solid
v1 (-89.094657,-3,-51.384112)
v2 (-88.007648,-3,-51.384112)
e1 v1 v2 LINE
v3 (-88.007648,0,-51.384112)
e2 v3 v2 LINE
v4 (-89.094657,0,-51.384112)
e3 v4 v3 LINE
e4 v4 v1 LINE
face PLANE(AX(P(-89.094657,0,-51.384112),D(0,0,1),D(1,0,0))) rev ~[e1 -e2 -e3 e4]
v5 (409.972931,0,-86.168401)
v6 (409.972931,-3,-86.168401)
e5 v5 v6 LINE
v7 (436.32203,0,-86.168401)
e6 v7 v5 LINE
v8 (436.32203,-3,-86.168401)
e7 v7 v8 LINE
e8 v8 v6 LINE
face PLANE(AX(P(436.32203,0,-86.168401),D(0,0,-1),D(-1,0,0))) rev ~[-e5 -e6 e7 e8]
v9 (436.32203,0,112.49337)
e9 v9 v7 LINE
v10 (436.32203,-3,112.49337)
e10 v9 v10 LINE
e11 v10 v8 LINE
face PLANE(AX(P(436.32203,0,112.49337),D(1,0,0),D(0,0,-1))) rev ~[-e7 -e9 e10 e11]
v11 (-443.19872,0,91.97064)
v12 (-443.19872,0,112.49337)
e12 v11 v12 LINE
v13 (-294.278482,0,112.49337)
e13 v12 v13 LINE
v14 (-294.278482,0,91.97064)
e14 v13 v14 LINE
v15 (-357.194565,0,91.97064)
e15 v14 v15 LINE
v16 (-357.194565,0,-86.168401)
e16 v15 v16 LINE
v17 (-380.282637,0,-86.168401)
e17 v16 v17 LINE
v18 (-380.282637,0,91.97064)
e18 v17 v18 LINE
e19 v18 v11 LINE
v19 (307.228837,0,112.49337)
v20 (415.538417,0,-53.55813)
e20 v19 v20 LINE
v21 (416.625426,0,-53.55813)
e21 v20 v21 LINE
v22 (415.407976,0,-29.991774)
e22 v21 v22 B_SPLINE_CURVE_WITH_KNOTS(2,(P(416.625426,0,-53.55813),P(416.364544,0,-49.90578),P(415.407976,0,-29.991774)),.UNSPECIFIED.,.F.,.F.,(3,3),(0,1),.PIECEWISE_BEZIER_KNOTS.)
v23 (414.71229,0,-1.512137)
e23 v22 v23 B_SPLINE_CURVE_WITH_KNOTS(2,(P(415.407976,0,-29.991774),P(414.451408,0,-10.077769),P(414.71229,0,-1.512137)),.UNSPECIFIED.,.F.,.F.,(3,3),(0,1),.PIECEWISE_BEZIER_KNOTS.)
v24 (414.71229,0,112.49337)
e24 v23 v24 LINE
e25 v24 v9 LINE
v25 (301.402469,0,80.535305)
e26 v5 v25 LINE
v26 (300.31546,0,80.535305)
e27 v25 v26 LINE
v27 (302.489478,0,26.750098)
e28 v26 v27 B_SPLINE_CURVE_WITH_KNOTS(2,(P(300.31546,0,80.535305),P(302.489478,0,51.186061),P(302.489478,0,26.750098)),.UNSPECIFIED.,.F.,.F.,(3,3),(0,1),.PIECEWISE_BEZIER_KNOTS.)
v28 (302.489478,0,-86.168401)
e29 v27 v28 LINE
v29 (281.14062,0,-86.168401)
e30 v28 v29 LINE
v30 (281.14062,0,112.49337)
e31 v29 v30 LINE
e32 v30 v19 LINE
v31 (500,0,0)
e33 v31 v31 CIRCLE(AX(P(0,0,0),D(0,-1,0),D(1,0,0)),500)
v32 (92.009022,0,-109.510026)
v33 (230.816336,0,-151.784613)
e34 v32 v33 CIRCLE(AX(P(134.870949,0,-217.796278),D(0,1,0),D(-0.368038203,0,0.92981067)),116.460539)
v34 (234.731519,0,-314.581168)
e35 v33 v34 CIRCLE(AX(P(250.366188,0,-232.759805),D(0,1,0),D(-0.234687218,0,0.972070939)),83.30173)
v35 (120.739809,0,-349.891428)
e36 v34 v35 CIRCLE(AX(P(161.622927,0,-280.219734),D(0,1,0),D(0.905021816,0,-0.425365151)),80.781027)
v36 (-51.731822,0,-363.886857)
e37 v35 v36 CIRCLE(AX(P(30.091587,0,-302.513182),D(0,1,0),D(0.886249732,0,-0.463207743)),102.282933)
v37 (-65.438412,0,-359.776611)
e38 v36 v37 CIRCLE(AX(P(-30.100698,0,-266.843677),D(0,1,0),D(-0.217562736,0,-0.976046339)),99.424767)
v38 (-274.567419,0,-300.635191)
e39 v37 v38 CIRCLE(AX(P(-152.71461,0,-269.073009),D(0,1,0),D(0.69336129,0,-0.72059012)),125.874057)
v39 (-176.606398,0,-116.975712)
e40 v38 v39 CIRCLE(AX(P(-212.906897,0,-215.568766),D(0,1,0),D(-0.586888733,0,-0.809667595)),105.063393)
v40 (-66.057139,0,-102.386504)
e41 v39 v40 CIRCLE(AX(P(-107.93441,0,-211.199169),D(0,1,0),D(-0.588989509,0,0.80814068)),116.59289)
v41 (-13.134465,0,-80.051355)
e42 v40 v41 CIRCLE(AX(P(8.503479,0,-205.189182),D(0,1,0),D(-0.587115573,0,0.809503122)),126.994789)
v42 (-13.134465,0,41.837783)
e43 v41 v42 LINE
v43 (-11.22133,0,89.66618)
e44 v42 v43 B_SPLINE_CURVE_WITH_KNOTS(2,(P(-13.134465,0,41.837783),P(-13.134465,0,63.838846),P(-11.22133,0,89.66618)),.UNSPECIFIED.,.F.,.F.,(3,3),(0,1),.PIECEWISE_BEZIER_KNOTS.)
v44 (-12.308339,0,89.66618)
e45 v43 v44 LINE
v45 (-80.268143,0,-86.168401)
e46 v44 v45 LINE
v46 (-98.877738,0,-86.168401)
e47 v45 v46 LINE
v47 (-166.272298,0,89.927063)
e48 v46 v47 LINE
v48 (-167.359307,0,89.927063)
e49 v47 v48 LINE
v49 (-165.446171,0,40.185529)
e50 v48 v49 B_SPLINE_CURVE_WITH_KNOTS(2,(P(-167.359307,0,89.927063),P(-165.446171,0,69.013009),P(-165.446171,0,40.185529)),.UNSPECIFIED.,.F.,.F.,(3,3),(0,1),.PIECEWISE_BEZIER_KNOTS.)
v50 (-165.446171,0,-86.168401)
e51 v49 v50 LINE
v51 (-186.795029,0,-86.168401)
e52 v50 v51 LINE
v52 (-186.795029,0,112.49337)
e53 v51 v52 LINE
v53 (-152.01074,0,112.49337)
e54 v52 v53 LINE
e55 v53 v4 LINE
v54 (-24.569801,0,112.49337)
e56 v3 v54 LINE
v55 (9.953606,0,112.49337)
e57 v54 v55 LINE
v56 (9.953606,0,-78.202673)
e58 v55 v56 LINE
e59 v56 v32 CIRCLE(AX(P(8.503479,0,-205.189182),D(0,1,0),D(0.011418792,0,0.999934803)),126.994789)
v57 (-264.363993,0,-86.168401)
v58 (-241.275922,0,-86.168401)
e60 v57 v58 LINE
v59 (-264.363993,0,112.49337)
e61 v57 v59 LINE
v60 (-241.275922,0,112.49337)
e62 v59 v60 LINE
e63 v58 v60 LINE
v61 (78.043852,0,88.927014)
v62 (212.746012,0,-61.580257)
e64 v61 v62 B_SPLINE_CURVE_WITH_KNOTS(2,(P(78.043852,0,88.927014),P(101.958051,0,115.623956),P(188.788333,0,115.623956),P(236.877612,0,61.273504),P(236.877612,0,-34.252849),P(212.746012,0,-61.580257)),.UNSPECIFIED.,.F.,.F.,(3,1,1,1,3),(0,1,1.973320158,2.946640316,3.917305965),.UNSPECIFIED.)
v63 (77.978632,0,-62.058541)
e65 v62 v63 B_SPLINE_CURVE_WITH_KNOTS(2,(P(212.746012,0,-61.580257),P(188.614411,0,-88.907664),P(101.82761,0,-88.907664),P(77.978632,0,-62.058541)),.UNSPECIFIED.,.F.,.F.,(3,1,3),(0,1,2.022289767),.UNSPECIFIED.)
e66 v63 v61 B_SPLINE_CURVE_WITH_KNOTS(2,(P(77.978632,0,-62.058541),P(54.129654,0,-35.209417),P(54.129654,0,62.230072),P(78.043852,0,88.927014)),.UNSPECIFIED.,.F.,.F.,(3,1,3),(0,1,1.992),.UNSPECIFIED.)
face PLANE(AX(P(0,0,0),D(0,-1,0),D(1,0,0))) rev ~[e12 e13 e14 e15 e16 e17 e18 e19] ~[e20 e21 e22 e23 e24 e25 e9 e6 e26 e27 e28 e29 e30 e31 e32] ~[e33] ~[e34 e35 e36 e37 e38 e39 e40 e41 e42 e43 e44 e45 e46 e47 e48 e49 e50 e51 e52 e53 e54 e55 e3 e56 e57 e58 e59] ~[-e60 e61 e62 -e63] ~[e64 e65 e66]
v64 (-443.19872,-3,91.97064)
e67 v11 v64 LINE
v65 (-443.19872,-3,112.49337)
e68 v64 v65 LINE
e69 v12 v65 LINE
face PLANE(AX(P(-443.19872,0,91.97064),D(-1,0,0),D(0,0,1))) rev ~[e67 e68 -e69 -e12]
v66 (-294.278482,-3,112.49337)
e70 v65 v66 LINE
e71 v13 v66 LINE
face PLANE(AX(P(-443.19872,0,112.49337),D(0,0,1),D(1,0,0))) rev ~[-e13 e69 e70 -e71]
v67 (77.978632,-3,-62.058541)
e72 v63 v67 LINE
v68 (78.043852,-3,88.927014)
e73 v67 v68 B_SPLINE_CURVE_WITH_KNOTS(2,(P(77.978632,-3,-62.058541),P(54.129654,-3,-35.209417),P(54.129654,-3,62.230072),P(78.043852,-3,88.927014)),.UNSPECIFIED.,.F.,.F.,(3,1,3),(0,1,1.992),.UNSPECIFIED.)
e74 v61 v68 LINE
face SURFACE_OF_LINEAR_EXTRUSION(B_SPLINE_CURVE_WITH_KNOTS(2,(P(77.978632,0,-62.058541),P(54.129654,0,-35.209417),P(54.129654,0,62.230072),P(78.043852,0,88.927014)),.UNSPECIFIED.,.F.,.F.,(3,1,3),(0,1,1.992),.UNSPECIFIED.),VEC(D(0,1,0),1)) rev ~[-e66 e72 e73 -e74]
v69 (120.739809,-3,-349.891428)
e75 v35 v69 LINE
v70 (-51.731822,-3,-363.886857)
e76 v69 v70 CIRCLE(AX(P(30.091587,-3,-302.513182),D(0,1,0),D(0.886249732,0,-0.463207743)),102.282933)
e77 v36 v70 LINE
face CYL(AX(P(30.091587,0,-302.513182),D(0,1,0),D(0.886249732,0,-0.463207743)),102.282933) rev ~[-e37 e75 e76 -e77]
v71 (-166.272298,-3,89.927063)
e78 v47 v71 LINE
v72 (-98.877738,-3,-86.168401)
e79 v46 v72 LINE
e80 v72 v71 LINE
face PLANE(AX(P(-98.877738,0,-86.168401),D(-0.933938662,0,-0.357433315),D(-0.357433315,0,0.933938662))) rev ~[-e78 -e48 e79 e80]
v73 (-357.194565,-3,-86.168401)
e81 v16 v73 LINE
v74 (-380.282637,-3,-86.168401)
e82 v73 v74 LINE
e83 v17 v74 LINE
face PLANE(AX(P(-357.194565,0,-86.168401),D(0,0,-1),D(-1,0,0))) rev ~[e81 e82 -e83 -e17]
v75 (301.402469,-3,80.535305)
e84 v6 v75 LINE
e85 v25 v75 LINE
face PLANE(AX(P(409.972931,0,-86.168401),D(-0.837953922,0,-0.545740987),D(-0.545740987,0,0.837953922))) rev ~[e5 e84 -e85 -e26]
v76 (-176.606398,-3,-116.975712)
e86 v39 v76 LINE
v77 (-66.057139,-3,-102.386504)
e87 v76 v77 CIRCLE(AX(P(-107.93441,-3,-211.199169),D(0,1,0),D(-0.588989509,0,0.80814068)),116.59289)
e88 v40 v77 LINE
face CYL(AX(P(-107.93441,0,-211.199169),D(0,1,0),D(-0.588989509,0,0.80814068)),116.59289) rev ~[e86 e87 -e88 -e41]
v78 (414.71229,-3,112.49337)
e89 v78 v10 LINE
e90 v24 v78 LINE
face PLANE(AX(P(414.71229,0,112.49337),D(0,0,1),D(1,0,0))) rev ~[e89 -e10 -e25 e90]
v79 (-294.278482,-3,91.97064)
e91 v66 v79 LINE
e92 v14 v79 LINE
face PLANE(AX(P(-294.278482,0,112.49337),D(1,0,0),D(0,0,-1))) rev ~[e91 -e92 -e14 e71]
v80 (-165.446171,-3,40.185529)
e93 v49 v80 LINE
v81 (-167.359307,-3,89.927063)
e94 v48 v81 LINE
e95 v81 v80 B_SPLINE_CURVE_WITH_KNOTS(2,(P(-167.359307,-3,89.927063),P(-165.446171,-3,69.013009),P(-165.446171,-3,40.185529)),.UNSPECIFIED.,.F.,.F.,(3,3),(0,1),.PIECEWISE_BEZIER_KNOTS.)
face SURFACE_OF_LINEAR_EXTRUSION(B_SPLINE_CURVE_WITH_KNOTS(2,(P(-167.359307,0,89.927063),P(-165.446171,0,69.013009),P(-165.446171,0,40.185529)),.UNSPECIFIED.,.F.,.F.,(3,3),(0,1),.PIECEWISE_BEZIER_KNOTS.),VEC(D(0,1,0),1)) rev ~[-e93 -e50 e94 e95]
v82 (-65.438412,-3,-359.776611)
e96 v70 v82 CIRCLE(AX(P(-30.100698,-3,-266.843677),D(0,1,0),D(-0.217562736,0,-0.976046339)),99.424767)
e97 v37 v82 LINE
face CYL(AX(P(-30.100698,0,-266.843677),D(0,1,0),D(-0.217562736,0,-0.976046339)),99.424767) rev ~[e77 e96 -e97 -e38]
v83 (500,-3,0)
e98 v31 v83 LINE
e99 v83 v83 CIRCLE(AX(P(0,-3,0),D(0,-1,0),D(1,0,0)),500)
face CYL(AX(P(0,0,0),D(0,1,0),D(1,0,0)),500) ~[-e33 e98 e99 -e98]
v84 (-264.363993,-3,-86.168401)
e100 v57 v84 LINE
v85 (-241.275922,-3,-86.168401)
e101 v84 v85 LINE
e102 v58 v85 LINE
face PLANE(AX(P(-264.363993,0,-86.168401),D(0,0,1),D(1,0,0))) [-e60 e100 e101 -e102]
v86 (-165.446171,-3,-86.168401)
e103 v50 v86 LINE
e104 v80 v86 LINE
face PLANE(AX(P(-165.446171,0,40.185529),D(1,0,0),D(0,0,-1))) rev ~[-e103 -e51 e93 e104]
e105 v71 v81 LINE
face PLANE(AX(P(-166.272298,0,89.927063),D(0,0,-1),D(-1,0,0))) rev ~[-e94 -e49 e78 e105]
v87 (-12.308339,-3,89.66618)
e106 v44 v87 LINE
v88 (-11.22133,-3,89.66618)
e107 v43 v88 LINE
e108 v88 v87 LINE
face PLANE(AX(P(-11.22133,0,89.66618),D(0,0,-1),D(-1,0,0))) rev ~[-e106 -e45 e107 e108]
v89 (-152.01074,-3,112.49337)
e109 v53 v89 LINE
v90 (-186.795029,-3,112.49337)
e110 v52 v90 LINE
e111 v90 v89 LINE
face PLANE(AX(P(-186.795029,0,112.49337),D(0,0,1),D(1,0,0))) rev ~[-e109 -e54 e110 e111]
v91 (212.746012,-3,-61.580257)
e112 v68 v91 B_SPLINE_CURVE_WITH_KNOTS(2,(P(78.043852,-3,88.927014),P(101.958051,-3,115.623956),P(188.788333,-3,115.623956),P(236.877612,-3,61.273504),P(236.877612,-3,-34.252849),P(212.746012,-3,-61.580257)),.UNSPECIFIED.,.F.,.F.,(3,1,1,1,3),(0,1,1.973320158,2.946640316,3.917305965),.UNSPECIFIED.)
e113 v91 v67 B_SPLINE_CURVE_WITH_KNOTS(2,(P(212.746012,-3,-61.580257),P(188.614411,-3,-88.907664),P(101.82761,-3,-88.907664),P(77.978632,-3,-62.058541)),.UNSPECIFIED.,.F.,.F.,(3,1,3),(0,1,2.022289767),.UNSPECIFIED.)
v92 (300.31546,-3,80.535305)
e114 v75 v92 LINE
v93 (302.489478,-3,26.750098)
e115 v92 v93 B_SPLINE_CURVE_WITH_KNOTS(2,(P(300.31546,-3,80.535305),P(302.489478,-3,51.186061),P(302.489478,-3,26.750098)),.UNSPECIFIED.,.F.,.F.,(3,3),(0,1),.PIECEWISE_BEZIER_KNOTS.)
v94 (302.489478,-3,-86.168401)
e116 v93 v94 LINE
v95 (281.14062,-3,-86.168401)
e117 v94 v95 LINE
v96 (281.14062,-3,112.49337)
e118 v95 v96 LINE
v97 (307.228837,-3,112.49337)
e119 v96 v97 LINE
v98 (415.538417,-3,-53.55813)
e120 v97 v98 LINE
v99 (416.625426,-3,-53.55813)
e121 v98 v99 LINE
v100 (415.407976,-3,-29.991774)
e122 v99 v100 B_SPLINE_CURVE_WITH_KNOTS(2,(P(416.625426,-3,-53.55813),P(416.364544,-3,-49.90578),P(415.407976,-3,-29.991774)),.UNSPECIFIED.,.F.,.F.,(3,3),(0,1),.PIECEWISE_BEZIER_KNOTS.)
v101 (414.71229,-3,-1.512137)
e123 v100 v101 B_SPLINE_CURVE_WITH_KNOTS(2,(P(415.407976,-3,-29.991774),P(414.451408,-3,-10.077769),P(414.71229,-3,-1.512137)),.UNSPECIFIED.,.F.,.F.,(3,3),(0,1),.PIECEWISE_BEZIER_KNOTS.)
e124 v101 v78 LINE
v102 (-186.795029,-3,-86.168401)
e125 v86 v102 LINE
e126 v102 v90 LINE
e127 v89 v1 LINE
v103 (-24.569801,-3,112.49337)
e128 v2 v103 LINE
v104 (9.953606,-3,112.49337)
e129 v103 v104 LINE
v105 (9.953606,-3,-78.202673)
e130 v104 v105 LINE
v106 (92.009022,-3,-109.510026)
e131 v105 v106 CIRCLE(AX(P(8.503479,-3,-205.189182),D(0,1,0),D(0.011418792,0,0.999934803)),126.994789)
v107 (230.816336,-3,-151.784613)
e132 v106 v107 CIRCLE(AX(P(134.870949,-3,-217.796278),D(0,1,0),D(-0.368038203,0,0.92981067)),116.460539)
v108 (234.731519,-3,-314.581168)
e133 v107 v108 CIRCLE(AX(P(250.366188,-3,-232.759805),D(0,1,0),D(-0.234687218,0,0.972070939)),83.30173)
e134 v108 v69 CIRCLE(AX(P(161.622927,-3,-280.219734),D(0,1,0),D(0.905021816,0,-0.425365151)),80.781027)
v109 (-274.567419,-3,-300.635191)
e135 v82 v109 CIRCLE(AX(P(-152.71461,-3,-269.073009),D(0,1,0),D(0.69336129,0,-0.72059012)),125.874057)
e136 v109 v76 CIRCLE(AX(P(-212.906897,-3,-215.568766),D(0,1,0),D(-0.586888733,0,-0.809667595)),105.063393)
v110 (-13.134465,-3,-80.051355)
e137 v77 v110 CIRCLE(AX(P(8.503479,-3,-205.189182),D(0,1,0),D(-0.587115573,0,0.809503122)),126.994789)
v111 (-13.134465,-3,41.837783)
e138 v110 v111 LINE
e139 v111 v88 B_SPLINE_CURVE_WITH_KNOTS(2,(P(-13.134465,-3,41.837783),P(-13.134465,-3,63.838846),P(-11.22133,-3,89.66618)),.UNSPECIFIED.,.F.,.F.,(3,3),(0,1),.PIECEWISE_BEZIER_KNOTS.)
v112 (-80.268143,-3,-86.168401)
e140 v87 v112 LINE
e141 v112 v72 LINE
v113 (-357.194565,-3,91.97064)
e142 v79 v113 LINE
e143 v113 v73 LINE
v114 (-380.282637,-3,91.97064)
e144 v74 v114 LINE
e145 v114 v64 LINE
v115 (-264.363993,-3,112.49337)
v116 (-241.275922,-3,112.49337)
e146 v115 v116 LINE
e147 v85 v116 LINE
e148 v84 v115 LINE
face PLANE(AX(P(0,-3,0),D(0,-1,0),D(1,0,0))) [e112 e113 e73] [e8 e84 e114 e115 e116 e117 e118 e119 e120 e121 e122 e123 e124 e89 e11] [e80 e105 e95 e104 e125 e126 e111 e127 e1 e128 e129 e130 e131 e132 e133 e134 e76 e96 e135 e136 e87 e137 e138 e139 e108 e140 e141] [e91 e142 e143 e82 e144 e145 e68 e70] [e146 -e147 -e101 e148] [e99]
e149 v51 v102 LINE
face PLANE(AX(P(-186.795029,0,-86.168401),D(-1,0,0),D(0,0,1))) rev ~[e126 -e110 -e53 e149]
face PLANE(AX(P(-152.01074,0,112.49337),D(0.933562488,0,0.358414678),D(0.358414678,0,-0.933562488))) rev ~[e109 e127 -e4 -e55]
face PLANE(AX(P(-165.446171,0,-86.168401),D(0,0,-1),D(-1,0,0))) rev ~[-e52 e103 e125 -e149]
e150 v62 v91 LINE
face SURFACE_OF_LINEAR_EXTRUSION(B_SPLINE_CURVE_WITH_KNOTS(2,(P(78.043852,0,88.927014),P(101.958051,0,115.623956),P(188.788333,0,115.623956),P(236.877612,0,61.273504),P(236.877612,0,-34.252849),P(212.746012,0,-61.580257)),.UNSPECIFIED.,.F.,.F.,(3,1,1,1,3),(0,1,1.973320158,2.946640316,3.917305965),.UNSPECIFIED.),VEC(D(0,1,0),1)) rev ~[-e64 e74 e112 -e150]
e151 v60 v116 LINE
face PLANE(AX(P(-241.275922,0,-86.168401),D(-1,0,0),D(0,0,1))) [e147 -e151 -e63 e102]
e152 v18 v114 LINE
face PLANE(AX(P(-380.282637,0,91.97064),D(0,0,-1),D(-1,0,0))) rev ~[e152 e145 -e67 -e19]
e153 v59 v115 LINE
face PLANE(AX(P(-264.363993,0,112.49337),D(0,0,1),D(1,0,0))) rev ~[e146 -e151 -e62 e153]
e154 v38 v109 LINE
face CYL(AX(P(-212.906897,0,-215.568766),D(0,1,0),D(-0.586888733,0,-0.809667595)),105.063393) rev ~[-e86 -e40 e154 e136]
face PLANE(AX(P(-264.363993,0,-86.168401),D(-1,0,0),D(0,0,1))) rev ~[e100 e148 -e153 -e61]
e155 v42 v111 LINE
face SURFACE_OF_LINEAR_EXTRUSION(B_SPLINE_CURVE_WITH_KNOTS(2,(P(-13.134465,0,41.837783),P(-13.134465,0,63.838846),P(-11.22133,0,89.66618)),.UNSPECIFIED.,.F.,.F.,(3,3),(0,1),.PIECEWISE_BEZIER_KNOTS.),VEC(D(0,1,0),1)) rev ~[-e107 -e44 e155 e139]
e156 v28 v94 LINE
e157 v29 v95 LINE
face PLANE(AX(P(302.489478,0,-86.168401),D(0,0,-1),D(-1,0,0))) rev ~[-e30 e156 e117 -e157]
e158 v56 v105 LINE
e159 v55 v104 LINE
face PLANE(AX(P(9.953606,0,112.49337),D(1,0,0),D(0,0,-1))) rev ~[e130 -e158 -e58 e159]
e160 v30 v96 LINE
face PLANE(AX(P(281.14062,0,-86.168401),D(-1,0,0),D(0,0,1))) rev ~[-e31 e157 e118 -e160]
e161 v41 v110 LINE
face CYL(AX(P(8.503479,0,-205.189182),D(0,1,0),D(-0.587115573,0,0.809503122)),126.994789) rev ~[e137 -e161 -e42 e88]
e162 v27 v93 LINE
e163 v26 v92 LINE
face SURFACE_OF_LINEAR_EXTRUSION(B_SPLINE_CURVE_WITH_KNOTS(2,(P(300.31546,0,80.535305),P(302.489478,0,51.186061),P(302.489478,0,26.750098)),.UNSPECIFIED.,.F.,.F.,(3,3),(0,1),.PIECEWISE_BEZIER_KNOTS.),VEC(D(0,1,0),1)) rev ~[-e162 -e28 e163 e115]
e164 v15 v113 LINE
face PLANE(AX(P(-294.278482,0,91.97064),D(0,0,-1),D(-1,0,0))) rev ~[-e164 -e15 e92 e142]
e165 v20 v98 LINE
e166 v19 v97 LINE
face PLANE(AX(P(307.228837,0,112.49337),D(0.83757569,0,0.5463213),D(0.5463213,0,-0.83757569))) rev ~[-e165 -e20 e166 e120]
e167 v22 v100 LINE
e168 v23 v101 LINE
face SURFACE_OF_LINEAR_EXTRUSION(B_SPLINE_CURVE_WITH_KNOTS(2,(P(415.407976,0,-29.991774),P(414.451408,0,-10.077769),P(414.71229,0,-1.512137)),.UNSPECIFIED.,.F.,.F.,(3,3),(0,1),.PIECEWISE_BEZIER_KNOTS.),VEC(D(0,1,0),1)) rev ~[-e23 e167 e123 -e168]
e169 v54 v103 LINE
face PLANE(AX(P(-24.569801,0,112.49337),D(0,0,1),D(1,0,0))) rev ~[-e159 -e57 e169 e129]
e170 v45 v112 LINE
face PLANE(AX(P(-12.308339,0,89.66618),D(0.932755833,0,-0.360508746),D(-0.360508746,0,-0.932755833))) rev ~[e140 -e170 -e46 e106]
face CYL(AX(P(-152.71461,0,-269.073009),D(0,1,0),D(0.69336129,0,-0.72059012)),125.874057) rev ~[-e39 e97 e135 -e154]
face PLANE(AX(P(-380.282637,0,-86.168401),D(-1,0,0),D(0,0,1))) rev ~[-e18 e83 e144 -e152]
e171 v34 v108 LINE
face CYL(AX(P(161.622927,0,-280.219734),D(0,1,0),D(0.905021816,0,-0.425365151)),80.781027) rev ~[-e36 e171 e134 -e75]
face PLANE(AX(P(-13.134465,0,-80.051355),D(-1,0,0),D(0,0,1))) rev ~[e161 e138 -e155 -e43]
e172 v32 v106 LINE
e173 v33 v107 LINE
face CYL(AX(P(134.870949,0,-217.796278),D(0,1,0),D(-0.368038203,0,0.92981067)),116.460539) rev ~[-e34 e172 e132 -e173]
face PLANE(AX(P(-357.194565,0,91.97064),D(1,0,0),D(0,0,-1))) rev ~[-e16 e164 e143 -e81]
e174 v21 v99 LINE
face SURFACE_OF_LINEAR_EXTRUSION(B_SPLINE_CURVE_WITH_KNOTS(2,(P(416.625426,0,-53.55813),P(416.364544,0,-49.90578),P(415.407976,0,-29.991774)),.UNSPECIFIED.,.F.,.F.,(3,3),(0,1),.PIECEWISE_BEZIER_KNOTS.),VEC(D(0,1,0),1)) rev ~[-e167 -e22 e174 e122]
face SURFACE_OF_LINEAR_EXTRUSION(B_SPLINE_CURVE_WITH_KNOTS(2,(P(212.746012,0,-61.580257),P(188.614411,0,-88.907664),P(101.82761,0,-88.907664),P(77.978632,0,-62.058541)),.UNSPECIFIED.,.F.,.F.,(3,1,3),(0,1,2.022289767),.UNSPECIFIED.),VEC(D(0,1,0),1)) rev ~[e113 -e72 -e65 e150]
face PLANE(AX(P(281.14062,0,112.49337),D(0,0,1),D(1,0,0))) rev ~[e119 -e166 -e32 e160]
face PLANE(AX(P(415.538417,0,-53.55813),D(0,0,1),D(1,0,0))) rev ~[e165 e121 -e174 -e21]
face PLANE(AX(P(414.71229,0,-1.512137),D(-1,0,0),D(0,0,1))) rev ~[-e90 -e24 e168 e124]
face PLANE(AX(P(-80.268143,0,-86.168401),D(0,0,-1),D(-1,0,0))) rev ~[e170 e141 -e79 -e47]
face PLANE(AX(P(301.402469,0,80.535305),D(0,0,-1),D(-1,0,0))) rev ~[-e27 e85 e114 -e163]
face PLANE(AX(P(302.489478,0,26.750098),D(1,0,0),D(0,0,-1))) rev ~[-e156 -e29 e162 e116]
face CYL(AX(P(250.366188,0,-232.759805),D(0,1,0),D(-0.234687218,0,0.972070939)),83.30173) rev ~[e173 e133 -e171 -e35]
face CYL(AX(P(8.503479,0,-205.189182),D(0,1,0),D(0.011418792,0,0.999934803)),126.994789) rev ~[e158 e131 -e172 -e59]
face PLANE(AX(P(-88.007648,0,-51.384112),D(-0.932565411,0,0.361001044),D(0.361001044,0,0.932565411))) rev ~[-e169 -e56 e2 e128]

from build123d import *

# Parameters (mm, degrees)
F0_R     = 500
F0_W     = 23.0880718875
F0_H     = 198.6617711001
F1_DEPTH = 3


with BuildPart() as f1:
    # F0 (on Front) → F1 (new body)
    with BuildSketch(Plane.XZ):
        Circle(F0_R)
        with BuildLine():
            ThreePointArc((-274.567418569, -300.6351906095), (-305.6079419009, -166.1235155196), (-176.6063983823, -116.975711967))
            ThreePointArc((-176.6063983823, -116.975711967), (-123.1889327411, -95.6085057867), (-66.0571388124, -102.3865038656))
            ThreePointArc((-66.0571388124, -102.3865038656), (-40.8752164599, -88.187383642), (-13.1344654752, -80.0513549242))
            Line((-13.1344654752, -80.0513549242), (-13.1344654752, 41.8377829303))
            add(Edge.make_bspline(
                [(-13.1344654752, 41.8377829303), (-13.1344654752, 63.8388457836), (-11.2213295749, 89.6661804375)],
                knots=[0, 0, 0, 1, 1, 1], degree=2))
            Line((-11.2213295749, 89.6661804375), (-12.3083386092, 89.6661804375))
            Line((-12.3083386092, 89.6661804375), (-80.2681434307, -86.1684009433))
            Line((-80.2681434307, -86.1684009433), (-98.8777380971, -86.1684009433))
            Line((-98.8777380971, -86.1684009433), (-166.2722982207, 89.9270626057))
            Line((-166.2722982207, 89.9270626057), (-167.359307255, 89.9270626057))
            add(Edge.make_bspline(
                [(-167.359307255, 89.9270626057), (-165.4461713547, 69.0130087867), (-165.4461713547, 40.1855291983)],
                knots=[0, 0, 0, 1, 1, 1], degree=2))
            Line((-165.4461713547, 40.1855291983), (-165.4461713547, -86.1684009433))
            Line((-165.4461713547, -86.1684009433), (-186.7950287874, -86.1684009433))
            Line((-186.7950287874, -86.1684009433), (-186.7950287874, 112.4933701568))
            Line((-186.7950287874, 112.4933701568), (-152.0107396913, 112.4933701568))
            Line((-152.0107396913, 112.4933701568), (-89.0946567888, -51.3841118472))
            Line((-89.0946567888, -51.3841118472), (-88.0076477545, -51.3841118472))
            Line((-88.0076477545, -51.3841118472), (-24.5698005155, 112.4933701568))
            Line((-24.5698005155, 112.4933701568), (9.9536064123, 112.4933701568))
            Line((9.9536064123, 112.4933701568), (9.9536064123, -78.2026726688))
            ThreePointArc((9.9536064123, -78.2026726688), (53.773823289, -86.5372862236), (92.0090216607, -109.5100264977))
            ThreePointArc((92.0090216607, -109.5100264977), (168.8010036172, -106.3879816048), (230.8163361906, -151.7846134505))
            ThreePointArc((230.8163361906, -151.7846134505), (301.8959936917, -167.3086216291), (333.6679179608, -232.7598047248))
            ThreePointArc((333.6679179608, -232.7598047248), (303.4547141219, -296.9531582441), (234.7315185471, -314.581167554))
            ThreePointArc((234.7315185471, -314.581167554), (185.5253099789, -357.3835232893), (120.7398090278, -349.8914284782))
            ThreePointArc((120.7398090278, -349.8914284782), (38.3642732882, -404.4610167035), (-51.7318220906, -363.886856885))
            ThreePointArc((-51.7318220905, -363.886856885), (-58.6591581618, -362.0786424357), (-65.4384116096, -359.7766113262))
            ThreePointArc((-65.4384116096, -359.7766113262), (-186.9682580881, -390.1967718511), (-274.567418569, -300.6351906095))
        make_face(mode=Mode.SUBTRACT)
        Polygon((-357.1945649969, 91.9706395901), (-357.1945649969, -86.1684009433), (-380.2826368844, -86.1684009433), (-380.2826368844, 91.9706395901), (-443.198719787, 91.9706395901), (-443.198719787, 112.4933701568), (-294.2784820944, 112.4933701568), (-294.2784820944, 91.9706395901), align=None, mode=Mode.SUBTRACT)
        with Locations((-252.819957528, 13.1624846067)):
            Rectangle(F0_W, F0_H, mode=Mode.SUBTRACT)
        with BuildLine():
            add(Edge.make_bspline(
                [(212.8329725653, 88.4487303191), (236.877612403, 61.2735044628), (236.877612403, 13.4451069557)],
                knots=[0, 0, 0, 1, 1, 1], degree=2))
            add(Edge.make_bspline(
                [(236.877612403, 13.4451069557), (236.877612403, -34.2528494674), (212.7460118425, -61.5802565885)],
                knots=[0, 0, 0, 1, 1, 1], degree=2))
            add(Edge.make_bspline(
                [(212.7460118425, -61.5802565885), (188.6144112821, -88.9076637096), (145.6992946098, -88.9076637096)],
                knots=[0, 0, 0, 1, 1, 1], degree=2))
            add(Edge.make_bspline(
                [(145.6992946098, -88.9076637096), (101.8276099874, -88.9076637096), (77.9786317759, -62.0585405636)],
                knots=[0, 0, 0, 1, 1, 1], degree=2))
            add(Edge.make_bspline(
                [(77.9786317759, -62.0585405636), (54.1296535644, -35.2094174175), (54.1296535644, 13.7059891239)],
                knots=[0, 0, 0, 1, 1, 1], degree=2))
            add(Edge.make_bspline(
                [(54.1296535644, 13.7059891239), (54.1296535644, 62.2300724129), (78.0438523179, 88.9270142942)],
                knots=[0, 0, 0, 1, 1, 1], degree=2))
            add(Edge.make_bspline(
                [(78.0438523179, 88.9270142942), (101.9580510715, 115.6239561754), (145.9601767781, 115.6239561754)],
                knots=[0, 0, 0, 1, 1, 1], degree=2))
            add(Edge.make_bspline(
                [(145.9601767781, 115.6239561754), (188.7883327276, 115.6239561754), (212.8329725653, 88.4487303191)],
                knots=[0, 0, 0, 1, 1, 1], degree=2))
        make_face(mode=Mode.SUBTRACT)
        with BuildLine():
            Line((436.3220300077, 112.4933701568), (436.3220300077, -86.1684009433))
            Line((436.3220300077, -86.1684009433), (409.9729310174, -86.1684009433))
            Line((409.9729310174, -86.1684009433), (301.4024686762, 80.5353045497))
            Line((301.4024686762, 80.5353045497), (300.315459642, 80.5353045497))
            add(Edge.make_bspline(
                [(300.315459642, 80.5353045497), (302.4894777105, 51.1860606249), (302.4894777105, 26.7500975349)],
                knots=[0, 0, 0, 1, 1, 1], degree=2))
            Line((302.4894777105, 26.7500975349), (302.4894777105, -86.1684009433))
            Line((302.4894777105, -86.1684009433), (281.1406202777, -86.1684009433))
            Line((281.1406202777, -86.1684009433), (281.1406202777, 112.4933701568))
            Line((281.1406202777, 112.4933701568), (307.2288370998, 112.4933701568))
            Line((307.2288370998, 112.4933701568), (415.5384172728, -53.5581299157))
            Line((415.5384172728, -53.5581299157), (416.625426307, -53.5581299157))
            add(Edge.make_bspline(
                [(416.625426307, -53.5581299157), (416.3645441388, -49.9057795606), (415.4079761886, -29.9917740531)],
                knots=[0, 0, 0, 1, 1, 1], degree=2))
            add(Edge.make_bspline(
                [(415.4079761886, -29.9917740531), (414.4514082385, -10.0777685456), (414.7122904067, -1.5121373557)],
                knots=[0, 0, 0, 1, 1, 1], degree=2))
            Line((414.7122904067, -1.5121373557), (414.7122904067, 112.4933701568))
            Line((414.7122904067, 112.4933701568), (436.3220300077, 112.4933701568))
        make_face(mode=Mode.SUBTRACT)
    extrude(amount=F1_DEPTH)


solid = f1.part
